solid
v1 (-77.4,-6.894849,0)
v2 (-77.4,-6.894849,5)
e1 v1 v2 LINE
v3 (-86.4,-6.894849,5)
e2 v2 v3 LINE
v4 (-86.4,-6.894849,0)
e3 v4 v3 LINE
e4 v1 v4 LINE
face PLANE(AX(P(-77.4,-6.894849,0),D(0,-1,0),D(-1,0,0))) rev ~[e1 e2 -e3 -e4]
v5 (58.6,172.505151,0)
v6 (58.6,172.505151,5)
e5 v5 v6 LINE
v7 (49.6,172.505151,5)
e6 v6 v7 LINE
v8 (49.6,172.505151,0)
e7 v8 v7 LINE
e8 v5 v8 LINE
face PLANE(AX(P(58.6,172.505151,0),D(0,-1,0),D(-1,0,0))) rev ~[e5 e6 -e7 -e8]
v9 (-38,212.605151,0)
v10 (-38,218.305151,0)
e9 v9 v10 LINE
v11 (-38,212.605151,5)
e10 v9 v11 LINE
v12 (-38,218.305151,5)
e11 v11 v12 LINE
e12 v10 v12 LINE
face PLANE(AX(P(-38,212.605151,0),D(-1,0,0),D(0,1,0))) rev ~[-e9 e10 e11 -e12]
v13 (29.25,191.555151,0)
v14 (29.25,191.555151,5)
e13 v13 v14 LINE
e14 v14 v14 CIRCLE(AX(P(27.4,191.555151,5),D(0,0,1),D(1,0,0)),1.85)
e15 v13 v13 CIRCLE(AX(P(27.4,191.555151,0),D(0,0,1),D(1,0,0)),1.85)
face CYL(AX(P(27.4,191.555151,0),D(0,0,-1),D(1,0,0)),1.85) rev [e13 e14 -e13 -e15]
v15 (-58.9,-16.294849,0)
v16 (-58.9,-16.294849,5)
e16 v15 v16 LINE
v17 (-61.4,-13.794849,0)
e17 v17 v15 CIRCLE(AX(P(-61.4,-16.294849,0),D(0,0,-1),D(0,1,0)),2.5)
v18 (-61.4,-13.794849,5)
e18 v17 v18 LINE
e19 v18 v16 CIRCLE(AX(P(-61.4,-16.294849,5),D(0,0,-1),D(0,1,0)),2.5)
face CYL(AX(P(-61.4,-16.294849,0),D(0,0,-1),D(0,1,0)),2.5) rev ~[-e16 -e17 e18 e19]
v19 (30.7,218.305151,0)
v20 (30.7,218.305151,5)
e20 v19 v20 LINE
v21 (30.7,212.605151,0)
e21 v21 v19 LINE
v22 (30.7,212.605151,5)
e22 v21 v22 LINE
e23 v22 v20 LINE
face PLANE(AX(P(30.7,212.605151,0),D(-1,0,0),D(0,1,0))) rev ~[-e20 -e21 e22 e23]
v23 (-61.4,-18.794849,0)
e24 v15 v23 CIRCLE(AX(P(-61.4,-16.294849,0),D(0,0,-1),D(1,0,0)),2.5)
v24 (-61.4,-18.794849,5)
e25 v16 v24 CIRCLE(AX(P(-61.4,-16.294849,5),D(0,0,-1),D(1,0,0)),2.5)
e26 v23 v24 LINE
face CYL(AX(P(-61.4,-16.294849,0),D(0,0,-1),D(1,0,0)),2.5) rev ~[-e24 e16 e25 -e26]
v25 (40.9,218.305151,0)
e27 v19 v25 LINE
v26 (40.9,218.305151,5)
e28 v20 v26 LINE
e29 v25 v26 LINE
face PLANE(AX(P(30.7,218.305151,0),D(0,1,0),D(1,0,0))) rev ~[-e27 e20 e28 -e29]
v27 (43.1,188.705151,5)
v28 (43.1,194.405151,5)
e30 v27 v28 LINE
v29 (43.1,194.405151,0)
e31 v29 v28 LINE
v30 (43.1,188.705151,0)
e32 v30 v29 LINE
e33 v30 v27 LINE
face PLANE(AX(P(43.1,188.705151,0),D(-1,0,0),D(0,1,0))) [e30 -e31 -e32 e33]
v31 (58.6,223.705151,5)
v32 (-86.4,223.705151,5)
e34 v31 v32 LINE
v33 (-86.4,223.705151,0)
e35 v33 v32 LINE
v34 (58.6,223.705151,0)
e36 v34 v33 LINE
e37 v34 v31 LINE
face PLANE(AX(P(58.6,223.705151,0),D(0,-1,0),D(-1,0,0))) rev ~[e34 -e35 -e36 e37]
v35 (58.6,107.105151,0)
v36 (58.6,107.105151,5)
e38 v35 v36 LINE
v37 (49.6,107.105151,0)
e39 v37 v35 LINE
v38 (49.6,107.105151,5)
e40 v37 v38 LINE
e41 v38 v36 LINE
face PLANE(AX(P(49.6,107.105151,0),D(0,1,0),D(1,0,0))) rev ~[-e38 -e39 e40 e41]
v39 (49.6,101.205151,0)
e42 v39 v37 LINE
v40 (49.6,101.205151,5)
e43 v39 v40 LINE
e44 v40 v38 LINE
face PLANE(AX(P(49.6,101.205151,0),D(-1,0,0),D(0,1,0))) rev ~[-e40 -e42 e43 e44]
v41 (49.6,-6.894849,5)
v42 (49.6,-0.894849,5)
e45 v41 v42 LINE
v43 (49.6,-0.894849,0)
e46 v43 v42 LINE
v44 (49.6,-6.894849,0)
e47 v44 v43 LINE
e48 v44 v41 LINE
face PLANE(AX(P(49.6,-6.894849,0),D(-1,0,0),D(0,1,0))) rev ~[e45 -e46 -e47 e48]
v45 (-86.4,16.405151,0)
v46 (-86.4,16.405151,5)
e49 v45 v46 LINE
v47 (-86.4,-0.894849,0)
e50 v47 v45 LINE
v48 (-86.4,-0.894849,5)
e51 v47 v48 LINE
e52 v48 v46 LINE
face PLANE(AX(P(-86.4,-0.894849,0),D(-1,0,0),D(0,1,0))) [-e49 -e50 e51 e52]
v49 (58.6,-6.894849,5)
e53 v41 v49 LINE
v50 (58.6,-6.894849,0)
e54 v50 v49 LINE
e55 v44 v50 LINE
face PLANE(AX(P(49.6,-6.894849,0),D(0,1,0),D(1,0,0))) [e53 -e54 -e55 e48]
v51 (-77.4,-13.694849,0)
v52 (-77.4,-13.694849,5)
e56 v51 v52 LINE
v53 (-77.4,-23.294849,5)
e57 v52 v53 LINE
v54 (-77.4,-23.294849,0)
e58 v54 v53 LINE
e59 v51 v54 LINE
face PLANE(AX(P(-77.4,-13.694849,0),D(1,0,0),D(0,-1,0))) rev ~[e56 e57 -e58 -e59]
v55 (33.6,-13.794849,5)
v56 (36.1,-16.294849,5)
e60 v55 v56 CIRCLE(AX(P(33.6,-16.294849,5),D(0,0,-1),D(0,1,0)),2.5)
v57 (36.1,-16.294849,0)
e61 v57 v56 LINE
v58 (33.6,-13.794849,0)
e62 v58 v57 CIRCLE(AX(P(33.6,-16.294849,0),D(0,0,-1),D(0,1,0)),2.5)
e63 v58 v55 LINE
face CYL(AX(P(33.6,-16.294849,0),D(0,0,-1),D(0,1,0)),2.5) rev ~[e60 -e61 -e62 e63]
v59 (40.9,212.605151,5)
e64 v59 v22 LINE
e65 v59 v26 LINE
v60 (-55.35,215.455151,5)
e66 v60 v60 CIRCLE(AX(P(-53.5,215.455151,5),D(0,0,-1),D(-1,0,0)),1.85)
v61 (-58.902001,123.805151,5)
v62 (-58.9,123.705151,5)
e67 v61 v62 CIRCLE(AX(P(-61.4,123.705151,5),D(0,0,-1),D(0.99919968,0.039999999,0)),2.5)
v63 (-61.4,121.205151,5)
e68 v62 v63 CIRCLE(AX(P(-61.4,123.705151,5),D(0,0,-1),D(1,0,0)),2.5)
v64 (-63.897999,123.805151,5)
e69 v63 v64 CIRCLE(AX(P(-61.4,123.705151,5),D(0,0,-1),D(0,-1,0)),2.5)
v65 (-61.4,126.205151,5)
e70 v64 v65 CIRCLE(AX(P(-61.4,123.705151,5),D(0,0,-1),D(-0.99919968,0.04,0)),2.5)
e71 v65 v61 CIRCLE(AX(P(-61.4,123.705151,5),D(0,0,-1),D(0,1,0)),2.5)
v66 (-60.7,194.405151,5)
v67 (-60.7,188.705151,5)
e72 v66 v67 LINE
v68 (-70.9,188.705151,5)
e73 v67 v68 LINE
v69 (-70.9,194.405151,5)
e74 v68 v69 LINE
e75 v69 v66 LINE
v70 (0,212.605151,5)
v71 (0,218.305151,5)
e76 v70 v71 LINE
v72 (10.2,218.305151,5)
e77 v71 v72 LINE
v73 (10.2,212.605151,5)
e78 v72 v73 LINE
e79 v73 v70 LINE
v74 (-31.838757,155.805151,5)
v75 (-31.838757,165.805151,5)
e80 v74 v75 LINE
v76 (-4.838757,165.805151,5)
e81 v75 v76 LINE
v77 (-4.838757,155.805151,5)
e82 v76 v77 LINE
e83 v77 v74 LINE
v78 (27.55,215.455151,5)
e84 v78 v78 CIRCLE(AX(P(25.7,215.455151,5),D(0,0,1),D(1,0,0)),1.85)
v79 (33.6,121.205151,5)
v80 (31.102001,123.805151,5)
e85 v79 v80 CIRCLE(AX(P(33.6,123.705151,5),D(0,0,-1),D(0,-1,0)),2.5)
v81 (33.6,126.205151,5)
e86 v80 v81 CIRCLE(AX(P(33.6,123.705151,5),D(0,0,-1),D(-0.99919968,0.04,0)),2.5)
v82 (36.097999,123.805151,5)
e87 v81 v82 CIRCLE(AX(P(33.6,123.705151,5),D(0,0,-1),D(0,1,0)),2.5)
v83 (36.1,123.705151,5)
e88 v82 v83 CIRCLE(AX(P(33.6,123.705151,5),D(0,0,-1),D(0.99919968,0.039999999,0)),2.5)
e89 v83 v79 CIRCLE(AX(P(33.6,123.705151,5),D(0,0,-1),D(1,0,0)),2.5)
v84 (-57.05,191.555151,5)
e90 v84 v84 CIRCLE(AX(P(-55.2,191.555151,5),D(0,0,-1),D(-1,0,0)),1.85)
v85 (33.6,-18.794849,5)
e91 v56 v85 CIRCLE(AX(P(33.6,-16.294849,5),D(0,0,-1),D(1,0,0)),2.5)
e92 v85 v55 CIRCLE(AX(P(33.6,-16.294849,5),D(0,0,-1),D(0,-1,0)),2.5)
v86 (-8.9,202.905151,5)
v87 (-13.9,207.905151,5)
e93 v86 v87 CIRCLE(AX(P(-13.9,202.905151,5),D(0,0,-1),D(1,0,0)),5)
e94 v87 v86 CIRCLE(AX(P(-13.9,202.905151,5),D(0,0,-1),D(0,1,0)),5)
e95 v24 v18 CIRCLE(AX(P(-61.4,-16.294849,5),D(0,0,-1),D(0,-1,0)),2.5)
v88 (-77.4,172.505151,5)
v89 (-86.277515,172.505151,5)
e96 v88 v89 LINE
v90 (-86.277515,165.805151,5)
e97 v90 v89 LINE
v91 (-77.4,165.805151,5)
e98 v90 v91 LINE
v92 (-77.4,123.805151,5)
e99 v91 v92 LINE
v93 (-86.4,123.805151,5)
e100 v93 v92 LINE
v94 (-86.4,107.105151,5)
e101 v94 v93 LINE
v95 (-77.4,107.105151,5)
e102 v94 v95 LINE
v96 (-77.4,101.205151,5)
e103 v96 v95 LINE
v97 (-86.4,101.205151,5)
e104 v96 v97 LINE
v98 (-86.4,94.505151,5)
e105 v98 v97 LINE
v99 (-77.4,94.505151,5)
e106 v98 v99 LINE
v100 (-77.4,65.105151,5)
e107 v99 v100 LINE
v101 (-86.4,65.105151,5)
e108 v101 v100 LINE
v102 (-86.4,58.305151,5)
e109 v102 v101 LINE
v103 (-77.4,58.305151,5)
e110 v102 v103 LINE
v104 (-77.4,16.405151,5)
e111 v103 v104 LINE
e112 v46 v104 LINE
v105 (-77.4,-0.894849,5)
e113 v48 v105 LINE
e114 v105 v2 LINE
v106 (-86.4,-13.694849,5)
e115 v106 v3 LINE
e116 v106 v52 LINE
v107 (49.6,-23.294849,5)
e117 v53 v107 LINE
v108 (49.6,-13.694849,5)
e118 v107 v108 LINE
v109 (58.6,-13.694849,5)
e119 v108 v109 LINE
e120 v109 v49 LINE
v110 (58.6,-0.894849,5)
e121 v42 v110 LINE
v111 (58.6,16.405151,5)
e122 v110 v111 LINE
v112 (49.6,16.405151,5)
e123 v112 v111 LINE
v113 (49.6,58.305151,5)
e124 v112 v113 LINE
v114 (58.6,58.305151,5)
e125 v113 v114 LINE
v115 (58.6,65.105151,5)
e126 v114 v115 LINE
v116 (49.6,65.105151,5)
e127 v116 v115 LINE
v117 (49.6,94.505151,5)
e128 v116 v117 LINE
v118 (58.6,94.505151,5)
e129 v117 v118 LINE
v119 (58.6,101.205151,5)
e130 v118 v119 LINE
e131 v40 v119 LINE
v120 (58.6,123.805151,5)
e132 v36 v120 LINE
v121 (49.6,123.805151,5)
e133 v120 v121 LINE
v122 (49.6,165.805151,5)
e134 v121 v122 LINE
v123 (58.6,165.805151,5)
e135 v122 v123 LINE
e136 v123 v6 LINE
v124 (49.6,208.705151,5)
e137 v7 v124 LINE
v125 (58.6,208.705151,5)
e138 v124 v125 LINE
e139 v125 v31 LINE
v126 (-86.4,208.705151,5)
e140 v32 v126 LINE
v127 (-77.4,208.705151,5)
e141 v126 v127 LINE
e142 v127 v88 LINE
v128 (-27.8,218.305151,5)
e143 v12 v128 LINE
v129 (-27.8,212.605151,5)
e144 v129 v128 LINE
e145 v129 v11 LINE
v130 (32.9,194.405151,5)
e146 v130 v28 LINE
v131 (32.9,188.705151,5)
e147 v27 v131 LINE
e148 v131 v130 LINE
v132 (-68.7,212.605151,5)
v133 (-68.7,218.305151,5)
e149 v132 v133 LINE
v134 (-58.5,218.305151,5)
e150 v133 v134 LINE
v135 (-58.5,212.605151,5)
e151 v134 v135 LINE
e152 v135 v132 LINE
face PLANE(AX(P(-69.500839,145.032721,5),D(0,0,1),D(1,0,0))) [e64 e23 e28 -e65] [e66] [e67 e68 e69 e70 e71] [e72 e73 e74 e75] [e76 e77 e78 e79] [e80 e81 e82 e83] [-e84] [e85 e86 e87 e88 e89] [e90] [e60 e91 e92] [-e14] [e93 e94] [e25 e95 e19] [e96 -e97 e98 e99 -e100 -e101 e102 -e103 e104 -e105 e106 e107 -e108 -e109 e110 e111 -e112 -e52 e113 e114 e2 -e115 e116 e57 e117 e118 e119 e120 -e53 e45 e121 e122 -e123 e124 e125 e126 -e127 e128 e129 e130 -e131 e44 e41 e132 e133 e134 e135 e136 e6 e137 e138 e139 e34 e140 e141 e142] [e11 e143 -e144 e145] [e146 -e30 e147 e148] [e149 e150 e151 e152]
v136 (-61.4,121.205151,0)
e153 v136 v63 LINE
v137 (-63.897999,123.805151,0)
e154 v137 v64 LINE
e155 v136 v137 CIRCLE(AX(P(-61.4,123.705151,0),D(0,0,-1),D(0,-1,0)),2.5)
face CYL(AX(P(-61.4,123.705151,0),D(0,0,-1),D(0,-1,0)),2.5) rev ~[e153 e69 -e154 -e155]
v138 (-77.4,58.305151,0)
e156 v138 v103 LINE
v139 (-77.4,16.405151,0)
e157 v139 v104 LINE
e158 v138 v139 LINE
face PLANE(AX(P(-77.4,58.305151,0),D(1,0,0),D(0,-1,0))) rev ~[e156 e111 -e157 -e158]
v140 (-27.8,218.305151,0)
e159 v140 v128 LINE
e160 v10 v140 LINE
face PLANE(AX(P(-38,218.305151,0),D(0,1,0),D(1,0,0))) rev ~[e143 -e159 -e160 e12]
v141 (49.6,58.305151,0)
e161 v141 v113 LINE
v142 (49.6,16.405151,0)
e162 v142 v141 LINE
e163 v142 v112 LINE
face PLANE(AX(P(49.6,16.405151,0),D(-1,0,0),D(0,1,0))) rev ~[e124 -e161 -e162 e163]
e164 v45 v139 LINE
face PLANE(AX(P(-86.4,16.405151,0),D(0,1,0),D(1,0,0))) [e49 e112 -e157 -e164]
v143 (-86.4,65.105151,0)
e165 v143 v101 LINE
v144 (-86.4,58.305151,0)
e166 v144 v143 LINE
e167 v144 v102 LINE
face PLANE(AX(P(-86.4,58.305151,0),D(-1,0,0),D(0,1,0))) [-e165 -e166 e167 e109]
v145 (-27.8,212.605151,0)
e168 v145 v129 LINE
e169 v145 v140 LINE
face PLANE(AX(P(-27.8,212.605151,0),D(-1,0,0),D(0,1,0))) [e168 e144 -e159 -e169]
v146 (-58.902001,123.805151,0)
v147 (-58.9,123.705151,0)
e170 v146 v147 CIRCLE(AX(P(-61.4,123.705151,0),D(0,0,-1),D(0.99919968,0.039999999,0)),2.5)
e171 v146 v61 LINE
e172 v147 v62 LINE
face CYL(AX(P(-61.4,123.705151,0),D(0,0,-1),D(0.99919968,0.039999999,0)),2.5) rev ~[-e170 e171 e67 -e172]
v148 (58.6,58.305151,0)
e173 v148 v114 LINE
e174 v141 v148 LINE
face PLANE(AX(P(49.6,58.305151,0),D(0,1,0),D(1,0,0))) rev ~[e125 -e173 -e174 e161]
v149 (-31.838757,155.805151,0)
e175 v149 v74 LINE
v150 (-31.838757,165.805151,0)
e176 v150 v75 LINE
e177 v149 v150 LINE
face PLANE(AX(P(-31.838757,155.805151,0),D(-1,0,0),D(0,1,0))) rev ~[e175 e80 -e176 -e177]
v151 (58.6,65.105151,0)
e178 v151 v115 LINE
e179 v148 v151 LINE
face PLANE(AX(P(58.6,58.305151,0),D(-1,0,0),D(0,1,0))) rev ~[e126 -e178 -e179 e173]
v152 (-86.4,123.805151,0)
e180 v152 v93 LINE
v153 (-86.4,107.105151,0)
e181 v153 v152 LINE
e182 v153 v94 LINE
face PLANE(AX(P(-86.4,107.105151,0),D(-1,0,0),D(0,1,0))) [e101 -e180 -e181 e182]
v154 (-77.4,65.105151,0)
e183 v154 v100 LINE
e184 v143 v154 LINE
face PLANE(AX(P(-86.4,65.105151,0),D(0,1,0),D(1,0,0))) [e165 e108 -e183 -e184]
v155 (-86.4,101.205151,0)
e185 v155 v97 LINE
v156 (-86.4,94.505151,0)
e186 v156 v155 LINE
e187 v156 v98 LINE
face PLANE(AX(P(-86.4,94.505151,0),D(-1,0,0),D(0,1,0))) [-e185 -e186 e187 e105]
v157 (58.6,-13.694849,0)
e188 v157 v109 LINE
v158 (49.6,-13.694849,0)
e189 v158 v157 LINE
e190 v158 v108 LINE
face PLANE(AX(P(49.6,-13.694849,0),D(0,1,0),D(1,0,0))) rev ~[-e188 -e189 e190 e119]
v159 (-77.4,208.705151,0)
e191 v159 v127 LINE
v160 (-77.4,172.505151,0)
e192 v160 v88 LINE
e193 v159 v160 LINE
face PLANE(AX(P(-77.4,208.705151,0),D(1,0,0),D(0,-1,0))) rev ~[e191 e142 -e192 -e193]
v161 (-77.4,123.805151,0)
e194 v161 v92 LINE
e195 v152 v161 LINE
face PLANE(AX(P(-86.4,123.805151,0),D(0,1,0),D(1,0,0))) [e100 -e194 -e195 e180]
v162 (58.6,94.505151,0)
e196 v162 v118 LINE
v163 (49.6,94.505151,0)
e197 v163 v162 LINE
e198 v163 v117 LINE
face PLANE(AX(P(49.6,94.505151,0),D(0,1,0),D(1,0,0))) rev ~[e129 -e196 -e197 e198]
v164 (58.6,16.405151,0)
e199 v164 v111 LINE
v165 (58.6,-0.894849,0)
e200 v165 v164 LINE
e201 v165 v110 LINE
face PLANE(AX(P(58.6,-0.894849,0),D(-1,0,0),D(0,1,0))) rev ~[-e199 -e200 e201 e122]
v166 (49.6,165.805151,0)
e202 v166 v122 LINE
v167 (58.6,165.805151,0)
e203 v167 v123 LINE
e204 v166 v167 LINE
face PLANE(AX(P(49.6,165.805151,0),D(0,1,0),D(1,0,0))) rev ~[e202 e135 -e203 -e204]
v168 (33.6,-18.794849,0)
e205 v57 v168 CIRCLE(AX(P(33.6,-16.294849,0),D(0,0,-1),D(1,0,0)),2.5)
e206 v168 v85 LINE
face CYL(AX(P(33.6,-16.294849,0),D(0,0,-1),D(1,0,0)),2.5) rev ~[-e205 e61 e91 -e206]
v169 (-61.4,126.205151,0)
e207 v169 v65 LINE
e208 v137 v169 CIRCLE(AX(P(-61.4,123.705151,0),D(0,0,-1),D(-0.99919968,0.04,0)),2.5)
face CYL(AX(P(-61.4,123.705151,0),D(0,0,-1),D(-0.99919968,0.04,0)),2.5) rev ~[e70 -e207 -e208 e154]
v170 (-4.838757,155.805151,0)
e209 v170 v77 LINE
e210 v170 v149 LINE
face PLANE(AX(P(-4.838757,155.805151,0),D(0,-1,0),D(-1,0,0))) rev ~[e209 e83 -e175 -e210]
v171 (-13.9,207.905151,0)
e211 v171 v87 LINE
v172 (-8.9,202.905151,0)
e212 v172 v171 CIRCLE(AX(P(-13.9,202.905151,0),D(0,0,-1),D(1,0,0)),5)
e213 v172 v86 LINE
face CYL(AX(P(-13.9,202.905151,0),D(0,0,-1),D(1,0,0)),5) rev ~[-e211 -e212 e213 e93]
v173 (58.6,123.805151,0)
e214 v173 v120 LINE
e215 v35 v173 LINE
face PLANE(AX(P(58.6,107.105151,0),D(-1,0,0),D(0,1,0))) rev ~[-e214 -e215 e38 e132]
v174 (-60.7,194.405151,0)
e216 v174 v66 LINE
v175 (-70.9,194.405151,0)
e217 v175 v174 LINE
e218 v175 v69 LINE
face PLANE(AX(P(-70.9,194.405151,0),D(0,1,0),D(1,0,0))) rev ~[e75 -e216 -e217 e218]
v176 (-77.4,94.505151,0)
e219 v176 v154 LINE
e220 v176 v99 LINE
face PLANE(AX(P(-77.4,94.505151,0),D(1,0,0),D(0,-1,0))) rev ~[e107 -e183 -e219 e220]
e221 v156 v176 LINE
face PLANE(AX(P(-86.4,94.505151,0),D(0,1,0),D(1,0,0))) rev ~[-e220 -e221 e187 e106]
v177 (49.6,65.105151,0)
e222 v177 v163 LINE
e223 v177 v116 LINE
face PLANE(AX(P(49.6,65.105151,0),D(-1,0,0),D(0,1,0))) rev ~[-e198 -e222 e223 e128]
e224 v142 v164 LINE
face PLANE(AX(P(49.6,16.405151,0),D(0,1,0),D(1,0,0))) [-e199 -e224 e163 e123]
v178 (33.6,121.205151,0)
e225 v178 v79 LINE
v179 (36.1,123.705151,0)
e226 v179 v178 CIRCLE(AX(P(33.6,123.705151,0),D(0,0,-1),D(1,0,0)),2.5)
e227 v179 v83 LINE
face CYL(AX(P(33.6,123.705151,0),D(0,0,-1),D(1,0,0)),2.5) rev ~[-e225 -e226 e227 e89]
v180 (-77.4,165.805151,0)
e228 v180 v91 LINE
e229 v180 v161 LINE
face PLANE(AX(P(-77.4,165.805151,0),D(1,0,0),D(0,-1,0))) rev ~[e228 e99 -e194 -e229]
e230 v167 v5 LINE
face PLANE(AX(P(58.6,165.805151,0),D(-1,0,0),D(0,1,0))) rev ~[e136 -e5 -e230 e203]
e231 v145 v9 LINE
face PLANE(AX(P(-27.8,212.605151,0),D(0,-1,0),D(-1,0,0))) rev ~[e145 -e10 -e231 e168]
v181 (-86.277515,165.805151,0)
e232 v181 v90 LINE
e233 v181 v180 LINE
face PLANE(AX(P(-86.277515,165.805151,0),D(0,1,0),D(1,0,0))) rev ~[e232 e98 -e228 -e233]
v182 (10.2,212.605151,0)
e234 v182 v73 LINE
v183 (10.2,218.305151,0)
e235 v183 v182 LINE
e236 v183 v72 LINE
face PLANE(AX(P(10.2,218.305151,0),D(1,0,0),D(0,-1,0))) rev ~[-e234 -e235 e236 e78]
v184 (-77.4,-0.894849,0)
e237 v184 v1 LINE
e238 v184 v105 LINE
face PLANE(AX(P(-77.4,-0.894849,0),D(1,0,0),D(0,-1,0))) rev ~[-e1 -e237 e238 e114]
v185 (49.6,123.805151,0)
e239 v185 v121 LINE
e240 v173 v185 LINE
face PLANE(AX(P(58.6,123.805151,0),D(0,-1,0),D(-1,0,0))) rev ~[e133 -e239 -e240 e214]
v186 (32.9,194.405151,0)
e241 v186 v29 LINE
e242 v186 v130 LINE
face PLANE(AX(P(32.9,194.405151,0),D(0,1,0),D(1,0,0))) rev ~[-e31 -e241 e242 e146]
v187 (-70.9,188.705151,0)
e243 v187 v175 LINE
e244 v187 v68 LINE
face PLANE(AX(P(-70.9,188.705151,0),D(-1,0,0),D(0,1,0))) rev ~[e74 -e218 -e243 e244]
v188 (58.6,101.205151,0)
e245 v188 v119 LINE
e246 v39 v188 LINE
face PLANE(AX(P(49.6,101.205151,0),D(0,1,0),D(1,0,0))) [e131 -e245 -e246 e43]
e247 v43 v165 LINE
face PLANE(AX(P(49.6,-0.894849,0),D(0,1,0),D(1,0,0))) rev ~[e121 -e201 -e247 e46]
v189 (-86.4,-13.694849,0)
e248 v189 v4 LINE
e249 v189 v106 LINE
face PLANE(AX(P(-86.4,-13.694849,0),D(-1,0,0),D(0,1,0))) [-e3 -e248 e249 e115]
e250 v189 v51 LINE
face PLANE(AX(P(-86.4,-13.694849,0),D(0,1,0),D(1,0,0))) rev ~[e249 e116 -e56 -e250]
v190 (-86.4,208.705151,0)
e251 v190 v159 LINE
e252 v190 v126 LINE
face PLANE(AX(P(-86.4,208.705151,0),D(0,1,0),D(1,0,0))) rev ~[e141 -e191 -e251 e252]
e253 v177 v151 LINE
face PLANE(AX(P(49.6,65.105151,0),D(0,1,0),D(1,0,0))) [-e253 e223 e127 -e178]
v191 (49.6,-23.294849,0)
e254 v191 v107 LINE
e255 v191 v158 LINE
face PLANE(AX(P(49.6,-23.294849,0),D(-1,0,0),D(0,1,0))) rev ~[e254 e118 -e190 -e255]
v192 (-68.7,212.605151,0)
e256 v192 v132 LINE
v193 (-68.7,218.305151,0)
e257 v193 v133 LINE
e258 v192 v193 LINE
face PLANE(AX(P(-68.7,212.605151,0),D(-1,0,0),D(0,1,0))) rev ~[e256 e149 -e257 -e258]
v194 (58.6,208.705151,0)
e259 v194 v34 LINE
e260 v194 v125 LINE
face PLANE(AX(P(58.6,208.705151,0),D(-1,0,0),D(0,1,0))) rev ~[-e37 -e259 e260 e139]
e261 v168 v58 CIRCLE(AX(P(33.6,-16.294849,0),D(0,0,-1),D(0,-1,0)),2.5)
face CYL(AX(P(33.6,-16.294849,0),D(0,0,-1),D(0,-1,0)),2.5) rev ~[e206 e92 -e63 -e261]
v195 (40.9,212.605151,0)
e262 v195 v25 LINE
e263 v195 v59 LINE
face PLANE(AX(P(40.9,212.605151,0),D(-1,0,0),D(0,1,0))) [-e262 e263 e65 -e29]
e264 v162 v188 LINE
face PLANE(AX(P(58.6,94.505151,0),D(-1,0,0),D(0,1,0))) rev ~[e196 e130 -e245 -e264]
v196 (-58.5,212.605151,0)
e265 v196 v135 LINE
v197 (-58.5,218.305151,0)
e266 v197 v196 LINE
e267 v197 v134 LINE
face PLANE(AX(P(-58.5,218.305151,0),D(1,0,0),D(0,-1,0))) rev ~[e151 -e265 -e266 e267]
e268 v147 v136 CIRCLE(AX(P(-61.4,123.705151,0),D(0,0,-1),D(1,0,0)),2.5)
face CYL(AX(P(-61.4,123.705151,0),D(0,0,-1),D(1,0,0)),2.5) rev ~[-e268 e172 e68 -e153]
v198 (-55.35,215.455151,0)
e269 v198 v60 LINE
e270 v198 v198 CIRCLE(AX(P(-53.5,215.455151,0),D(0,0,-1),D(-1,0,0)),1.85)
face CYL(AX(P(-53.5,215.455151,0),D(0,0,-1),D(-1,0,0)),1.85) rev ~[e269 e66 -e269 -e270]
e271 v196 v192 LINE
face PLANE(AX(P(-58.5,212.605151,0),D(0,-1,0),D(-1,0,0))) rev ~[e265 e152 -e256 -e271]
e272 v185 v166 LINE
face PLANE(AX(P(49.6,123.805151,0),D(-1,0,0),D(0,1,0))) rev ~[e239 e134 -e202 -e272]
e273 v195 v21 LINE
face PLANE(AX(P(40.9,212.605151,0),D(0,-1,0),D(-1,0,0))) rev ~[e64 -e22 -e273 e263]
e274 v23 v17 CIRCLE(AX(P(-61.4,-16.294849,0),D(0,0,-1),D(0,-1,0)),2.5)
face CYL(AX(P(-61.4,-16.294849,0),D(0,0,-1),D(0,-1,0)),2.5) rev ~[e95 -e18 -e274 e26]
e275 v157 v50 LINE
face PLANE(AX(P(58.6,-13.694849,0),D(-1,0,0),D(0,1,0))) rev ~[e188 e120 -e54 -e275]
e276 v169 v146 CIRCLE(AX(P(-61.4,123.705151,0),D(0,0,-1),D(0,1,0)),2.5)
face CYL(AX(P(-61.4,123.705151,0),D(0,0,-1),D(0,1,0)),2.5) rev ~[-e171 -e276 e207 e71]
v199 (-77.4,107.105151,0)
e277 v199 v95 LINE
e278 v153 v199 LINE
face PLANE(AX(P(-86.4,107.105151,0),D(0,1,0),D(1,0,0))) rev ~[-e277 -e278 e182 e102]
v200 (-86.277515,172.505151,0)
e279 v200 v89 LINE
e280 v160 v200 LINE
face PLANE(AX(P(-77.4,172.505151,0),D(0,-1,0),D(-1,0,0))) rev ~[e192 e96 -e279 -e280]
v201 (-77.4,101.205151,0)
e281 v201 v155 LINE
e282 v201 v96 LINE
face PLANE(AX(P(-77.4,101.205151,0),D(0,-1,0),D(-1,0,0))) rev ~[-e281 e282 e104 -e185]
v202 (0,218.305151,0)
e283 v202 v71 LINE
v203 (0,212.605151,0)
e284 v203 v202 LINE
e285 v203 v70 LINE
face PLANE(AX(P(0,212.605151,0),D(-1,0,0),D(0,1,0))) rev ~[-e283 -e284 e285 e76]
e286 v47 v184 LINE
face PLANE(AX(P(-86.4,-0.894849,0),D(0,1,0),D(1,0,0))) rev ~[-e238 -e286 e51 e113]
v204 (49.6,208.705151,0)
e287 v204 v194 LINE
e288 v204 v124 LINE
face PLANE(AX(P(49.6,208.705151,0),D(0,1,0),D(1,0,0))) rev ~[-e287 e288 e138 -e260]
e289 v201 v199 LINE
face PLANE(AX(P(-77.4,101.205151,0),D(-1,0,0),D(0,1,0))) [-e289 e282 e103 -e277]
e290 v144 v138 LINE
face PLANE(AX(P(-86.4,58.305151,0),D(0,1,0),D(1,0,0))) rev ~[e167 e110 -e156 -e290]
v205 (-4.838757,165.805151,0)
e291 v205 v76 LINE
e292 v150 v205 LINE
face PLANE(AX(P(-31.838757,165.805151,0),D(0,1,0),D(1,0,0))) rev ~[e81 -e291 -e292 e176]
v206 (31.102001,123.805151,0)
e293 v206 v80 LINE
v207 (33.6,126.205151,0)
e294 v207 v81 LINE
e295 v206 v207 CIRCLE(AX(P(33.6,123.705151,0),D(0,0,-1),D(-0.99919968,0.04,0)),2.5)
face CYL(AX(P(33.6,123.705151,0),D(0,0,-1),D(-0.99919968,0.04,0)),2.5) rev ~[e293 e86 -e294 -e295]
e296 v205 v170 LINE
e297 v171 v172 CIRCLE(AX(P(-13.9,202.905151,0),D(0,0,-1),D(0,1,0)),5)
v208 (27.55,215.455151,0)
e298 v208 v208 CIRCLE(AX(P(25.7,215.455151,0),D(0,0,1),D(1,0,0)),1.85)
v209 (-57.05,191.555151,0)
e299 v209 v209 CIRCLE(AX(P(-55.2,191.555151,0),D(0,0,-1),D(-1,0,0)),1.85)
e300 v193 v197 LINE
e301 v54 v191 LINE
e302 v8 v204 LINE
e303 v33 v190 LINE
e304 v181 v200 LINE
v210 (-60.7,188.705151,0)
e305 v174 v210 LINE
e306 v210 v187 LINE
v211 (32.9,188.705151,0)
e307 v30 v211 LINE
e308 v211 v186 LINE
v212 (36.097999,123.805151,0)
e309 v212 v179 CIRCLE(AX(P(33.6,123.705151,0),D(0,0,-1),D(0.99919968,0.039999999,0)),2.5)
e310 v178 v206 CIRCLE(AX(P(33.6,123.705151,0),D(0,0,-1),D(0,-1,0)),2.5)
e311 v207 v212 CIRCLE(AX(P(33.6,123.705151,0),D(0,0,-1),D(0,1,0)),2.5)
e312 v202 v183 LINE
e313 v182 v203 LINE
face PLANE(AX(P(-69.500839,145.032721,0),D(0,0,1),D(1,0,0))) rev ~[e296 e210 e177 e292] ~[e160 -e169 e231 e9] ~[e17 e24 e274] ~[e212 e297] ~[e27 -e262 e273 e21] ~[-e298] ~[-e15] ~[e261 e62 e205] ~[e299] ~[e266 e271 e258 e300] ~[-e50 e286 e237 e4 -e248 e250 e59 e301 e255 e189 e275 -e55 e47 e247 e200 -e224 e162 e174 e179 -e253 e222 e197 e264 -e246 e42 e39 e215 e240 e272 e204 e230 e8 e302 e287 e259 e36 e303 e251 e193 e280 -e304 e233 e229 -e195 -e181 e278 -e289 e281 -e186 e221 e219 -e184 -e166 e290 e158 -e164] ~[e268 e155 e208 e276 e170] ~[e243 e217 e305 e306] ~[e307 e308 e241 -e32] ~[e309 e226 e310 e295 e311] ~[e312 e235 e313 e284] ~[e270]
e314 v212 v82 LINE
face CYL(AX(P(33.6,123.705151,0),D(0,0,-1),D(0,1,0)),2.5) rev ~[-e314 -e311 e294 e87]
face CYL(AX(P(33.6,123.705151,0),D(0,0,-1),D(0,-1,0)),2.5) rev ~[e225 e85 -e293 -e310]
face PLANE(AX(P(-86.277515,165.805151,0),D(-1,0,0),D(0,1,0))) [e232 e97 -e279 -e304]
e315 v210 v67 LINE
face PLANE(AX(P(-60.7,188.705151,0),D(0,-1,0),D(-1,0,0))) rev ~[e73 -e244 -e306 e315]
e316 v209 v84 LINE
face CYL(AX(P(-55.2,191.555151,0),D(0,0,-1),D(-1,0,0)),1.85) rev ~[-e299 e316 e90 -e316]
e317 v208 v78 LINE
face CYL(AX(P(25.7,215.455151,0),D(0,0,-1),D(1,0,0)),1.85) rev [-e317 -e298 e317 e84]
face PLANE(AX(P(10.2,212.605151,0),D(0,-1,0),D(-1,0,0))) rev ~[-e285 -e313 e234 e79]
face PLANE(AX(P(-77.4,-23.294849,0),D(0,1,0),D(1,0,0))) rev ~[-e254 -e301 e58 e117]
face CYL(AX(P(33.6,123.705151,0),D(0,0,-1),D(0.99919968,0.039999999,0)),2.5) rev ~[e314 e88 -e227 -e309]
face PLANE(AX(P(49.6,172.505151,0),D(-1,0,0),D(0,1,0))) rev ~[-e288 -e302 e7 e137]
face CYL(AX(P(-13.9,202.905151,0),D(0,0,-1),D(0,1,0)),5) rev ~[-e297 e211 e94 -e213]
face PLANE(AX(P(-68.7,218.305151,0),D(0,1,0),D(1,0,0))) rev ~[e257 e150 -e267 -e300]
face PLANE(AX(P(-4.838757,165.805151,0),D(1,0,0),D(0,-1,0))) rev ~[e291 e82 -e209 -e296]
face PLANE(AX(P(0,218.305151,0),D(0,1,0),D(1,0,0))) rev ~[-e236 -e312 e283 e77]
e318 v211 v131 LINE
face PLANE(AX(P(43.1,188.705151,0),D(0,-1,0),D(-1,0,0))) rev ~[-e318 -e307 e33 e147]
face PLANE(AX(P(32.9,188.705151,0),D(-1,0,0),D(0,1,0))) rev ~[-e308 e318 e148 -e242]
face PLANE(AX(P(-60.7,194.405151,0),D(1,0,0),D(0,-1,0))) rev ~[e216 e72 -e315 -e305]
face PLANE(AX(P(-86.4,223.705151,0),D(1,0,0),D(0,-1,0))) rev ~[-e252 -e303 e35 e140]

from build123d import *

# Parameters (mm, degrees)
F0_W     = 9
F0_H     = 16.7
F0_H_2   = 6.7
F0_W_2   = 16
F0_H_3   = 5.9
F0_W_3   = 95
F0_W_4   = 8.8775146961
F0_W_5   = 6.5
F0_H_4   = 5.7
F0_R     = 1.85
F0_W_6   = 8.7
F0_W_7   = 13.9
F0_H_5   = 29.4
F0_H_6   = 6.8
F0_H_7   = 41.9
F0_H_8   = 6
F0_H_9   = 17.3
F1_DEPTH = 5


with BuildPart() as f1:
    # F0 (on Top) → F1 (new body)
    with BuildSketch(Plane.XY):
        with BuildLine():
            Line((-77.4, 165.8051506788), (-77.4, 123.8051506788))
            Line((-77.4, 123.8051506788), (-63.8979991994, 123.8051506788))
            ThreePointArc((-63.8979991994, 123.8051506788), (-63.1320508076, 125.5079263165), (-61.4, 126.2051506788))
            Line((-61.4, 126.2051506788), (-61.4, 165.8051506788))
            Line((-61.4, 165.8051506788), (-77.4, 165.8051506788))
        make_face()
        with BuildLine():
            Line((-77.4, 123.8051506788), (-77.4, 107.1051506788))
            Line((-77.4, 107.1051506788), (-61.4, 107.1051506788))
            Line((-61.4, 107.1051506788), (-61.4, 121.2051506788))
            ThreePointArc((-61.4, 121.2051506788), (-63.2027756377, 121.9730998712), (-63.8979991994, 123.8051506788))
            Line((-63.8979991994, 123.8051506788), (-77.4, 123.8051506788))
        make_face()
        with BuildLine():
            Line((-31.8387573481, 165.8051506788), (-61.4, 165.8051506788))
            Line((-61.4, 165.8051506788), (-61.4, 126.2051506788))
            ThreePointArc((-61.4, 126.2051506788), (-59.6679491924, 125.5079263165), (-58.9020008006, 123.8051506788))
            Line((-58.9020008006, 123.8051506788), (31.1020008006, 123.8051506788))
            ThreePointArc((31.1020008006, 123.8051506788), (31.8679491924, 125.5079263165), (33.6, 126.2051506788))
            Line((33.6, 126.2051506788), (33.6, 165.8051506788))
            Line((33.6, 165.8051506788), (-4.8387573481, 165.8051506788))
            Line((-4.8387573481, 165.8051506788), (-4.8387573481, 155.8051506788))
            Line((-4.8387573481, 155.8051506788), (-31.8387573481, 155.8051506788))
            Line((-31.8387573481, 155.8051506788), (-31.8387573481, 165.8051506788))
        make_face()
        with BuildLine():
            Line((-61.4, 121.2051506788), (-61.4, 107.1051506788))
            Line((-61.4, 107.1051506788), (33.6, 107.1051506788))
            Line((33.6, 107.1051506788), (33.6, 121.2051506788))
            ThreePointArc((33.6, 121.2051506788), (31.7972243623, 121.9730998712), (31.1020008006, 123.8051506788))
            Line((31.1020008006, 123.8051506788), (-58.9020008006, 123.8051506788))
            ThreePointArc((-58.9020008006, 123.8051506788), (-58.9005002502, 123.7551606858), (-58.9, 123.7051506788))
            ThreePointArc((-58.9, 123.7051506788), (-59.632233047, 121.9373837258), (-61.4, 121.2051506788))
        make_face()
        with BuildLine():
            Line((33.6, 121.2051506788), (33.6, 107.1051506788))
            Line((33.6, 107.1051506788), (49.6, 107.1051506788))
            Line((49.6, 107.1051506788), (49.6, 123.8051506788))
            Line((49.6, 123.8051506788), (36.0979991994, 123.8051506788))
            ThreePointArc((36.0979991994, 123.8051506788), (36.0994997498, 123.7551606858), (36.1, 123.7051506788))
            ThreePointArc((36.1, 123.7051506788), (35.367766953, 121.9373837258), (33.6, 121.2051506788))
        make_face()
        with Locations((54.1, 115.4551506788)):
            Rectangle(F0_W, F0_H)
        with Locations((-81.9, 115.4551506788)):
            Rectangle(F0_W, F0_H)
        with Locations((-81.9, 97.8551506788)):
            Rectangle(F0_W, F0_H_2)
        with Locations((-69.4, 97.8551506788)):
            Rectangle(F0_W_2, F0_H_2)
        with Locations((-69.4, 104.1551506788)):
            Rectangle(F0_W_2, F0_H_3)
        with Locations((-13.9, 104.1551506788)):
            Rectangle(F0_W_3, F0_H_3)
        with Locations((-13.9, 97.8551506788)):
            Rectangle(F0_W_3, F0_H_2)
        with Locations((41.6, 97.8551506788)):
            Rectangle(F0_W_2, F0_H_2)
        with Locations((41.6, 104.1551506788)):
            Rectangle(F0_W_2, F0_H_3)
        with Locations((54.1, 97.8551506788)):
            Rectangle(F0_W, F0_H_2)
        with BuildLine():
            Line((36.0979991994, 123.8051506788), (49.6, 123.8051506788))
            Line((49.6, 123.8051506788), (49.6, 165.8051506788))
            Line((49.6, 165.8051506788), (33.6, 165.8051506788))
            Line((33.6, 165.8051506788), (33.6, 126.2051506788))
            ThreePointArc((33.6, 126.2051506788), (35.3320508076, 125.5079263165), (36.0979991994, 123.8051506788))
        make_face()
        with Locations((54.1, 169.1551506788)):
            Rectangle(F0_W, F0_H_2)
        Polygon((-77.4, 172.5051506788), (-77.4, 165.8051506788), (-61.4, 165.8051506788), (-31.8387573481, 165.8051506788), (-18.3387573481, 165.8051506788), (-4.8387573481, 165.8051506788), (33.6, 165.8051506788), (49.6, 165.8051506788), (49.6, 172.5051506788), (-8.3387573481, 172.5051506788), (-28.3387573481, 172.5051506788), align=None)
        with Locations((-81.8387573481, 169.1551506788)):
            Rectangle(F0_W_4, F0_H_2)
        Polygon((-77.4, 188.7051506788), (-77.4, 172.5051506788), (-28.3387573481, 172.5051506788), (-8.3387573481, 172.5051506788), (49.6, 172.5051506788), (49.6, 188.7051506788), (43.1, 188.7051506788), (32.9, 188.7051506788), (-60.7, 188.7051506788), (-70.9, 188.7051506788), align=None)
        with Locations((-74.15, 191.5551506788)):
            Rectangle(F0_W_5, F0_H_4)
        Polygon((-60.7, 191.5551506788), (-60.7, 188.7051506788), (32.9, 188.7051506788), (32.9, 191.5551506788), (32.9, 194.4051506788), (-60.7, 194.4051506788), align=None)
        with BuildLine():
            ThreePointArc((-53.35, 191.5551506788), (-55.2, 189.7051506788), (-57.05, 191.5551506788))
            ThreePointArc((-57.05, 191.5551506788), (-55.2, 193.4051506788), (-53.35, 191.5551506788))
        make_face(mode=Mode.SUBTRACT)
        with Locations((27.4, 191.5551506788)):
            Circle(F0_R, mode=Mode.SUBTRACT)
        with Locations((46.35, 191.5551506788)):
            Rectangle(F0_W_5, F0_H_4)
        Polygon((-77.4, 208.7051506788), (-77.4, 194.4051506788), (-70.9, 194.4051506788), (-60.7, 194.4051506788), (32.9, 194.4051506788), (43.1, 194.4051506788), (49.6, 194.4051506788), (49.6, 208.7051506788), (-13.9, 208.7051506788), align=None)
        with BuildLine():
            ThreePointArc((-8.9, 202.9051506788), (-17.4355339059, 199.3696167728), (-13.9, 207.9051506788))
            ThreePointArc((-13.9, 207.9051506788), (-10.3644660941, 206.4406845847), (-8.9, 202.9051506788))
        make_face(mode=Mode.SUBTRACT)
        Polygon((-86.4, 208.7051506788), (-77.4, 208.7051506788), (-77.4, 212.6051506788), (-77.4, 218.3051506788), (-77.4, 223.7051506788), (-86.4, 223.7051506788), align=None)
        with Locations((-73.05, 215.4551506788)):
            Rectangle(F0_W_6, F0_H_4)
        Polygon((-77.4, 212.6051506788), (-77.4, 208.7051506788), (-13.9, 208.7051506788), (-13.9, 212.6051506788), (-27.8, 212.6051506788), (-38, 212.6051506788), (-58.5, 212.6051506788), (-68.7, 212.6051506788), align=None)
        Polygon((-77.4, 223.7051506788), (-77.4, 218.3051506788), (-68.7, 218.3051506788), (-58.5, 218.3051506788), (-38, 218.3051506788), (-27.8, 218.3051506788), (-13.9, 218.3051506788), (-13.9, 223.7051506788), align=None)
        Polygon((-58.5, 215.4551506788), (-58.5, 212.6051506788), (-38, 212.6051506788), (-38, 218.3051506788), (-58.5, 218.3051506788), align=None)
        with BuildLine():
            ThreePointArc((-51.65, 215.4551506788), (-53.5, 213.6051506788), (-55.35, 215.4551506788))
            ThreePointArc((-55.35, 215.4551506788), (-53.5, 217.3051506788), (-51.65, 215.4551506788))
        make_face(mode=Mode.SUBTRACT)
        with Locations((-20.85, 215.4551506788)):
            Rectangle(F0_W_7, F0_H_4)
        with Locations((-6.95, 215.4551506788)):
            Rectangle(F0_W_7, F0_H_4)
        Polygon((-13.9, 212.6051506788), (-13.9, 208.7051506788), (49.6, 208.7051506788), (49.6, 212.6051506788), (40.9, 212.6051506788), (30.7, 212.6051506788), (10.2, 212.6051506788), (0, 212.6051506788), align=None)
        Polygon((-13.9, 223.7051506788), (-13.9, 218.3051506788), (0, 218.3051506788), (10.2, 218.3051506788), (30.7, 218.3051506788), (40.9, 218.3051506788), (49.6, 218.3051506788), (49.6, 223.7051506788), align=None)
        Polygon((10.2, 218.3051506788), (10.2, 212.6051506788), (30.7, 212.6051506788), (30.7, 215.4551506788), (30.7, 218.3051506788), align=None)
        with Locations((25.7, 215.4551506788)):
            Circle(F0_R, mode=Mode.SUBTRACT)
        with Locations((45.25, 215.4551506788)):
            Rectangle(F0_W_6, F0_H_4)
        Polygon((49.6, 212.6051506788), (49.6, 208.7051506788), (58.6, 208.7051506788), (58.6, 223.7051506788), (49.6, 223.7051506788), (49.6, 218.3051506788), align=None)
        with Locations((-13.9, 79.8051506788)):
            Rectangle(F0_W_3, F0_H_5)
        with Locations((-69.4, 79.8051506788)):
            Rectangle(F0_W_2, F0_H_5)
        with Locations((41.6, 79.8051506788)):
            Rectangle(F0_W_2, F0_H_5)
        with Locations((41.6, 61.7051506788)):
            Rectangle(F0_W_2, F0_H_6)
        with Locations((54.1, 61.7051506788)):
            Rectangle(F0_W, F0_H_6)
        with Locations((-69.4, 61.7051506788)):
            Rectangle(F0_W_2, F0_H_6)
        with Locations((-81.9, 61.7051506788)):
            Rectangle(F0_W, F0_H_6)
        with Locations((-69.4, 37.3551506788)):
            Rectangle(F0_W_2, F0_H_7)
        with Locations((-13.9, 37.3551506788)):
            Rectangle(F0_W_3, F0_H_7)
        with Locations((41.6, 37.3551506788)):
            Rectangle(F0_W_2, F0_H_7)
        with Locations((-13.9, 61.7051506788)):
            Rectangle(F0_W_3, F0_H_6)
        with BuildLine():
            Line((-77.4, -13.6948493212), (-77.4, -23.2948493212))
            Line((-77.4, -23.2948493212), (-61.4, -23.2948493212))
            Line((-61.4, -23.2948493212), (-61.4, -18.7948493212))
            ThreePointArc((-61.4, -18.7948493212), (-63.9, -16.2948493212), (-61.4, -13.7948493212))
            Line((-61.4, -13.7948493212), (-61.4, -13.6948493212))
            Line((-61.4, -13.6948493212), (-77.4, -13.6948493212))
        make_face()
        with Locations((-69.4, -10.2948493212)):
            Rectangle(F0_W_2, F0_H_6)
        with Locations((-81.9, -10.2948493212)):
            Rectangle(F0_W, F0_H_6)
        with Locations((-69.4, -3.8948493212)):
            Rectangle(F0_W_2, F0_H_8)
        with Locations((-69.4, 7.7551506788)):
            Rectangle(F0_W_2, F0_H_9)
        with Locations((-81.9, 7.7551506788)):
            Rectangle(F0_W, F0_H_9)
        with Locations((-13.9, 7.7551506788)):
            Rectangle(F0_W_3, F0_H_9)
        with Locations((41.6, 7.7551506788)):
            Rectangle(F0_W_2, F0_H_9)
        with Locations((54.1, 7.7551506788)):
            Rectangle(F0_W, F0_H_9)
        with Locations((-13.9, -3.8948493212)):
            Rectangle(F0_W_3, F0_H_8)
        with Locations((-13.9, -10.2948493212)):
            Rectangle(F0_W_3, F0_H_6)
        with BuildLine():
            Line((-61.4, -18.7948493212), (-61.4, -23.2948493212))
            Line((-61.4, -23.2948493212), (33.6, -23.2948493212))
            Line((33.6, -23.2948493212), (33.6, -18.7948493212))
            ThreePointArc((33.6, -18.7948493212), (31.1, -16.2948493212), (33.6, -13.7948493212))
            Line((33.6, -13.7948493212), (33.6, -13.6948493212))
            Line((33.6, -13.6948493212), (-61.4, -13.6948493212))
            Line((-61.4, -13.6948493212), (-61.4, -13.7948493212))
            ThreePointArc((-61.4, -13.7948493212), (-59.632233047, -14.5270823683), (-58.9, -16.2948493212))
            ThreePointArc((-58.9, -16.2948493212), (-59.632233047, -18.0626162742), (-61.4, -18.7948493212))
        make_face()
        with BuildLine():
            Line((33.6, -18.7948493212), (33.6, -23.2948493212))
            Line((33.6, -23.2948493212), (49.6, -23.2948493212))
            Line((49.6, -23.2948493212), (49.6, -13.6948493212))
            Line((49.6, -13.6948493212), (33.6, -13.6948493212))
            Line((33.6, -13.6948493212), (33.6, -13.7948493212))
            ThreePointArc((33.6, -13.7948493212), (35.367766953, -14.5270823683), (36.1, -16.2948493212))
            ThreePointArc((36.1, -16.2948493212), (35.367766953, -18.0626162742), (33.6, -18.7948493212))
        make_face()
        with Locations((41.6, -10.2948493212)):
            Rectangle(F0_W_2, F0_H_6)
        with Locations((41.6, -3.8948493212)):
            Rectangle(F0_W_2, F0_H_8)
        with Locations((54.1, -10.2948493212)):
            Rectangle(F0_W, F0_H_6)
    extrude(amount=F1_DEPTH)


solid = f1.part
